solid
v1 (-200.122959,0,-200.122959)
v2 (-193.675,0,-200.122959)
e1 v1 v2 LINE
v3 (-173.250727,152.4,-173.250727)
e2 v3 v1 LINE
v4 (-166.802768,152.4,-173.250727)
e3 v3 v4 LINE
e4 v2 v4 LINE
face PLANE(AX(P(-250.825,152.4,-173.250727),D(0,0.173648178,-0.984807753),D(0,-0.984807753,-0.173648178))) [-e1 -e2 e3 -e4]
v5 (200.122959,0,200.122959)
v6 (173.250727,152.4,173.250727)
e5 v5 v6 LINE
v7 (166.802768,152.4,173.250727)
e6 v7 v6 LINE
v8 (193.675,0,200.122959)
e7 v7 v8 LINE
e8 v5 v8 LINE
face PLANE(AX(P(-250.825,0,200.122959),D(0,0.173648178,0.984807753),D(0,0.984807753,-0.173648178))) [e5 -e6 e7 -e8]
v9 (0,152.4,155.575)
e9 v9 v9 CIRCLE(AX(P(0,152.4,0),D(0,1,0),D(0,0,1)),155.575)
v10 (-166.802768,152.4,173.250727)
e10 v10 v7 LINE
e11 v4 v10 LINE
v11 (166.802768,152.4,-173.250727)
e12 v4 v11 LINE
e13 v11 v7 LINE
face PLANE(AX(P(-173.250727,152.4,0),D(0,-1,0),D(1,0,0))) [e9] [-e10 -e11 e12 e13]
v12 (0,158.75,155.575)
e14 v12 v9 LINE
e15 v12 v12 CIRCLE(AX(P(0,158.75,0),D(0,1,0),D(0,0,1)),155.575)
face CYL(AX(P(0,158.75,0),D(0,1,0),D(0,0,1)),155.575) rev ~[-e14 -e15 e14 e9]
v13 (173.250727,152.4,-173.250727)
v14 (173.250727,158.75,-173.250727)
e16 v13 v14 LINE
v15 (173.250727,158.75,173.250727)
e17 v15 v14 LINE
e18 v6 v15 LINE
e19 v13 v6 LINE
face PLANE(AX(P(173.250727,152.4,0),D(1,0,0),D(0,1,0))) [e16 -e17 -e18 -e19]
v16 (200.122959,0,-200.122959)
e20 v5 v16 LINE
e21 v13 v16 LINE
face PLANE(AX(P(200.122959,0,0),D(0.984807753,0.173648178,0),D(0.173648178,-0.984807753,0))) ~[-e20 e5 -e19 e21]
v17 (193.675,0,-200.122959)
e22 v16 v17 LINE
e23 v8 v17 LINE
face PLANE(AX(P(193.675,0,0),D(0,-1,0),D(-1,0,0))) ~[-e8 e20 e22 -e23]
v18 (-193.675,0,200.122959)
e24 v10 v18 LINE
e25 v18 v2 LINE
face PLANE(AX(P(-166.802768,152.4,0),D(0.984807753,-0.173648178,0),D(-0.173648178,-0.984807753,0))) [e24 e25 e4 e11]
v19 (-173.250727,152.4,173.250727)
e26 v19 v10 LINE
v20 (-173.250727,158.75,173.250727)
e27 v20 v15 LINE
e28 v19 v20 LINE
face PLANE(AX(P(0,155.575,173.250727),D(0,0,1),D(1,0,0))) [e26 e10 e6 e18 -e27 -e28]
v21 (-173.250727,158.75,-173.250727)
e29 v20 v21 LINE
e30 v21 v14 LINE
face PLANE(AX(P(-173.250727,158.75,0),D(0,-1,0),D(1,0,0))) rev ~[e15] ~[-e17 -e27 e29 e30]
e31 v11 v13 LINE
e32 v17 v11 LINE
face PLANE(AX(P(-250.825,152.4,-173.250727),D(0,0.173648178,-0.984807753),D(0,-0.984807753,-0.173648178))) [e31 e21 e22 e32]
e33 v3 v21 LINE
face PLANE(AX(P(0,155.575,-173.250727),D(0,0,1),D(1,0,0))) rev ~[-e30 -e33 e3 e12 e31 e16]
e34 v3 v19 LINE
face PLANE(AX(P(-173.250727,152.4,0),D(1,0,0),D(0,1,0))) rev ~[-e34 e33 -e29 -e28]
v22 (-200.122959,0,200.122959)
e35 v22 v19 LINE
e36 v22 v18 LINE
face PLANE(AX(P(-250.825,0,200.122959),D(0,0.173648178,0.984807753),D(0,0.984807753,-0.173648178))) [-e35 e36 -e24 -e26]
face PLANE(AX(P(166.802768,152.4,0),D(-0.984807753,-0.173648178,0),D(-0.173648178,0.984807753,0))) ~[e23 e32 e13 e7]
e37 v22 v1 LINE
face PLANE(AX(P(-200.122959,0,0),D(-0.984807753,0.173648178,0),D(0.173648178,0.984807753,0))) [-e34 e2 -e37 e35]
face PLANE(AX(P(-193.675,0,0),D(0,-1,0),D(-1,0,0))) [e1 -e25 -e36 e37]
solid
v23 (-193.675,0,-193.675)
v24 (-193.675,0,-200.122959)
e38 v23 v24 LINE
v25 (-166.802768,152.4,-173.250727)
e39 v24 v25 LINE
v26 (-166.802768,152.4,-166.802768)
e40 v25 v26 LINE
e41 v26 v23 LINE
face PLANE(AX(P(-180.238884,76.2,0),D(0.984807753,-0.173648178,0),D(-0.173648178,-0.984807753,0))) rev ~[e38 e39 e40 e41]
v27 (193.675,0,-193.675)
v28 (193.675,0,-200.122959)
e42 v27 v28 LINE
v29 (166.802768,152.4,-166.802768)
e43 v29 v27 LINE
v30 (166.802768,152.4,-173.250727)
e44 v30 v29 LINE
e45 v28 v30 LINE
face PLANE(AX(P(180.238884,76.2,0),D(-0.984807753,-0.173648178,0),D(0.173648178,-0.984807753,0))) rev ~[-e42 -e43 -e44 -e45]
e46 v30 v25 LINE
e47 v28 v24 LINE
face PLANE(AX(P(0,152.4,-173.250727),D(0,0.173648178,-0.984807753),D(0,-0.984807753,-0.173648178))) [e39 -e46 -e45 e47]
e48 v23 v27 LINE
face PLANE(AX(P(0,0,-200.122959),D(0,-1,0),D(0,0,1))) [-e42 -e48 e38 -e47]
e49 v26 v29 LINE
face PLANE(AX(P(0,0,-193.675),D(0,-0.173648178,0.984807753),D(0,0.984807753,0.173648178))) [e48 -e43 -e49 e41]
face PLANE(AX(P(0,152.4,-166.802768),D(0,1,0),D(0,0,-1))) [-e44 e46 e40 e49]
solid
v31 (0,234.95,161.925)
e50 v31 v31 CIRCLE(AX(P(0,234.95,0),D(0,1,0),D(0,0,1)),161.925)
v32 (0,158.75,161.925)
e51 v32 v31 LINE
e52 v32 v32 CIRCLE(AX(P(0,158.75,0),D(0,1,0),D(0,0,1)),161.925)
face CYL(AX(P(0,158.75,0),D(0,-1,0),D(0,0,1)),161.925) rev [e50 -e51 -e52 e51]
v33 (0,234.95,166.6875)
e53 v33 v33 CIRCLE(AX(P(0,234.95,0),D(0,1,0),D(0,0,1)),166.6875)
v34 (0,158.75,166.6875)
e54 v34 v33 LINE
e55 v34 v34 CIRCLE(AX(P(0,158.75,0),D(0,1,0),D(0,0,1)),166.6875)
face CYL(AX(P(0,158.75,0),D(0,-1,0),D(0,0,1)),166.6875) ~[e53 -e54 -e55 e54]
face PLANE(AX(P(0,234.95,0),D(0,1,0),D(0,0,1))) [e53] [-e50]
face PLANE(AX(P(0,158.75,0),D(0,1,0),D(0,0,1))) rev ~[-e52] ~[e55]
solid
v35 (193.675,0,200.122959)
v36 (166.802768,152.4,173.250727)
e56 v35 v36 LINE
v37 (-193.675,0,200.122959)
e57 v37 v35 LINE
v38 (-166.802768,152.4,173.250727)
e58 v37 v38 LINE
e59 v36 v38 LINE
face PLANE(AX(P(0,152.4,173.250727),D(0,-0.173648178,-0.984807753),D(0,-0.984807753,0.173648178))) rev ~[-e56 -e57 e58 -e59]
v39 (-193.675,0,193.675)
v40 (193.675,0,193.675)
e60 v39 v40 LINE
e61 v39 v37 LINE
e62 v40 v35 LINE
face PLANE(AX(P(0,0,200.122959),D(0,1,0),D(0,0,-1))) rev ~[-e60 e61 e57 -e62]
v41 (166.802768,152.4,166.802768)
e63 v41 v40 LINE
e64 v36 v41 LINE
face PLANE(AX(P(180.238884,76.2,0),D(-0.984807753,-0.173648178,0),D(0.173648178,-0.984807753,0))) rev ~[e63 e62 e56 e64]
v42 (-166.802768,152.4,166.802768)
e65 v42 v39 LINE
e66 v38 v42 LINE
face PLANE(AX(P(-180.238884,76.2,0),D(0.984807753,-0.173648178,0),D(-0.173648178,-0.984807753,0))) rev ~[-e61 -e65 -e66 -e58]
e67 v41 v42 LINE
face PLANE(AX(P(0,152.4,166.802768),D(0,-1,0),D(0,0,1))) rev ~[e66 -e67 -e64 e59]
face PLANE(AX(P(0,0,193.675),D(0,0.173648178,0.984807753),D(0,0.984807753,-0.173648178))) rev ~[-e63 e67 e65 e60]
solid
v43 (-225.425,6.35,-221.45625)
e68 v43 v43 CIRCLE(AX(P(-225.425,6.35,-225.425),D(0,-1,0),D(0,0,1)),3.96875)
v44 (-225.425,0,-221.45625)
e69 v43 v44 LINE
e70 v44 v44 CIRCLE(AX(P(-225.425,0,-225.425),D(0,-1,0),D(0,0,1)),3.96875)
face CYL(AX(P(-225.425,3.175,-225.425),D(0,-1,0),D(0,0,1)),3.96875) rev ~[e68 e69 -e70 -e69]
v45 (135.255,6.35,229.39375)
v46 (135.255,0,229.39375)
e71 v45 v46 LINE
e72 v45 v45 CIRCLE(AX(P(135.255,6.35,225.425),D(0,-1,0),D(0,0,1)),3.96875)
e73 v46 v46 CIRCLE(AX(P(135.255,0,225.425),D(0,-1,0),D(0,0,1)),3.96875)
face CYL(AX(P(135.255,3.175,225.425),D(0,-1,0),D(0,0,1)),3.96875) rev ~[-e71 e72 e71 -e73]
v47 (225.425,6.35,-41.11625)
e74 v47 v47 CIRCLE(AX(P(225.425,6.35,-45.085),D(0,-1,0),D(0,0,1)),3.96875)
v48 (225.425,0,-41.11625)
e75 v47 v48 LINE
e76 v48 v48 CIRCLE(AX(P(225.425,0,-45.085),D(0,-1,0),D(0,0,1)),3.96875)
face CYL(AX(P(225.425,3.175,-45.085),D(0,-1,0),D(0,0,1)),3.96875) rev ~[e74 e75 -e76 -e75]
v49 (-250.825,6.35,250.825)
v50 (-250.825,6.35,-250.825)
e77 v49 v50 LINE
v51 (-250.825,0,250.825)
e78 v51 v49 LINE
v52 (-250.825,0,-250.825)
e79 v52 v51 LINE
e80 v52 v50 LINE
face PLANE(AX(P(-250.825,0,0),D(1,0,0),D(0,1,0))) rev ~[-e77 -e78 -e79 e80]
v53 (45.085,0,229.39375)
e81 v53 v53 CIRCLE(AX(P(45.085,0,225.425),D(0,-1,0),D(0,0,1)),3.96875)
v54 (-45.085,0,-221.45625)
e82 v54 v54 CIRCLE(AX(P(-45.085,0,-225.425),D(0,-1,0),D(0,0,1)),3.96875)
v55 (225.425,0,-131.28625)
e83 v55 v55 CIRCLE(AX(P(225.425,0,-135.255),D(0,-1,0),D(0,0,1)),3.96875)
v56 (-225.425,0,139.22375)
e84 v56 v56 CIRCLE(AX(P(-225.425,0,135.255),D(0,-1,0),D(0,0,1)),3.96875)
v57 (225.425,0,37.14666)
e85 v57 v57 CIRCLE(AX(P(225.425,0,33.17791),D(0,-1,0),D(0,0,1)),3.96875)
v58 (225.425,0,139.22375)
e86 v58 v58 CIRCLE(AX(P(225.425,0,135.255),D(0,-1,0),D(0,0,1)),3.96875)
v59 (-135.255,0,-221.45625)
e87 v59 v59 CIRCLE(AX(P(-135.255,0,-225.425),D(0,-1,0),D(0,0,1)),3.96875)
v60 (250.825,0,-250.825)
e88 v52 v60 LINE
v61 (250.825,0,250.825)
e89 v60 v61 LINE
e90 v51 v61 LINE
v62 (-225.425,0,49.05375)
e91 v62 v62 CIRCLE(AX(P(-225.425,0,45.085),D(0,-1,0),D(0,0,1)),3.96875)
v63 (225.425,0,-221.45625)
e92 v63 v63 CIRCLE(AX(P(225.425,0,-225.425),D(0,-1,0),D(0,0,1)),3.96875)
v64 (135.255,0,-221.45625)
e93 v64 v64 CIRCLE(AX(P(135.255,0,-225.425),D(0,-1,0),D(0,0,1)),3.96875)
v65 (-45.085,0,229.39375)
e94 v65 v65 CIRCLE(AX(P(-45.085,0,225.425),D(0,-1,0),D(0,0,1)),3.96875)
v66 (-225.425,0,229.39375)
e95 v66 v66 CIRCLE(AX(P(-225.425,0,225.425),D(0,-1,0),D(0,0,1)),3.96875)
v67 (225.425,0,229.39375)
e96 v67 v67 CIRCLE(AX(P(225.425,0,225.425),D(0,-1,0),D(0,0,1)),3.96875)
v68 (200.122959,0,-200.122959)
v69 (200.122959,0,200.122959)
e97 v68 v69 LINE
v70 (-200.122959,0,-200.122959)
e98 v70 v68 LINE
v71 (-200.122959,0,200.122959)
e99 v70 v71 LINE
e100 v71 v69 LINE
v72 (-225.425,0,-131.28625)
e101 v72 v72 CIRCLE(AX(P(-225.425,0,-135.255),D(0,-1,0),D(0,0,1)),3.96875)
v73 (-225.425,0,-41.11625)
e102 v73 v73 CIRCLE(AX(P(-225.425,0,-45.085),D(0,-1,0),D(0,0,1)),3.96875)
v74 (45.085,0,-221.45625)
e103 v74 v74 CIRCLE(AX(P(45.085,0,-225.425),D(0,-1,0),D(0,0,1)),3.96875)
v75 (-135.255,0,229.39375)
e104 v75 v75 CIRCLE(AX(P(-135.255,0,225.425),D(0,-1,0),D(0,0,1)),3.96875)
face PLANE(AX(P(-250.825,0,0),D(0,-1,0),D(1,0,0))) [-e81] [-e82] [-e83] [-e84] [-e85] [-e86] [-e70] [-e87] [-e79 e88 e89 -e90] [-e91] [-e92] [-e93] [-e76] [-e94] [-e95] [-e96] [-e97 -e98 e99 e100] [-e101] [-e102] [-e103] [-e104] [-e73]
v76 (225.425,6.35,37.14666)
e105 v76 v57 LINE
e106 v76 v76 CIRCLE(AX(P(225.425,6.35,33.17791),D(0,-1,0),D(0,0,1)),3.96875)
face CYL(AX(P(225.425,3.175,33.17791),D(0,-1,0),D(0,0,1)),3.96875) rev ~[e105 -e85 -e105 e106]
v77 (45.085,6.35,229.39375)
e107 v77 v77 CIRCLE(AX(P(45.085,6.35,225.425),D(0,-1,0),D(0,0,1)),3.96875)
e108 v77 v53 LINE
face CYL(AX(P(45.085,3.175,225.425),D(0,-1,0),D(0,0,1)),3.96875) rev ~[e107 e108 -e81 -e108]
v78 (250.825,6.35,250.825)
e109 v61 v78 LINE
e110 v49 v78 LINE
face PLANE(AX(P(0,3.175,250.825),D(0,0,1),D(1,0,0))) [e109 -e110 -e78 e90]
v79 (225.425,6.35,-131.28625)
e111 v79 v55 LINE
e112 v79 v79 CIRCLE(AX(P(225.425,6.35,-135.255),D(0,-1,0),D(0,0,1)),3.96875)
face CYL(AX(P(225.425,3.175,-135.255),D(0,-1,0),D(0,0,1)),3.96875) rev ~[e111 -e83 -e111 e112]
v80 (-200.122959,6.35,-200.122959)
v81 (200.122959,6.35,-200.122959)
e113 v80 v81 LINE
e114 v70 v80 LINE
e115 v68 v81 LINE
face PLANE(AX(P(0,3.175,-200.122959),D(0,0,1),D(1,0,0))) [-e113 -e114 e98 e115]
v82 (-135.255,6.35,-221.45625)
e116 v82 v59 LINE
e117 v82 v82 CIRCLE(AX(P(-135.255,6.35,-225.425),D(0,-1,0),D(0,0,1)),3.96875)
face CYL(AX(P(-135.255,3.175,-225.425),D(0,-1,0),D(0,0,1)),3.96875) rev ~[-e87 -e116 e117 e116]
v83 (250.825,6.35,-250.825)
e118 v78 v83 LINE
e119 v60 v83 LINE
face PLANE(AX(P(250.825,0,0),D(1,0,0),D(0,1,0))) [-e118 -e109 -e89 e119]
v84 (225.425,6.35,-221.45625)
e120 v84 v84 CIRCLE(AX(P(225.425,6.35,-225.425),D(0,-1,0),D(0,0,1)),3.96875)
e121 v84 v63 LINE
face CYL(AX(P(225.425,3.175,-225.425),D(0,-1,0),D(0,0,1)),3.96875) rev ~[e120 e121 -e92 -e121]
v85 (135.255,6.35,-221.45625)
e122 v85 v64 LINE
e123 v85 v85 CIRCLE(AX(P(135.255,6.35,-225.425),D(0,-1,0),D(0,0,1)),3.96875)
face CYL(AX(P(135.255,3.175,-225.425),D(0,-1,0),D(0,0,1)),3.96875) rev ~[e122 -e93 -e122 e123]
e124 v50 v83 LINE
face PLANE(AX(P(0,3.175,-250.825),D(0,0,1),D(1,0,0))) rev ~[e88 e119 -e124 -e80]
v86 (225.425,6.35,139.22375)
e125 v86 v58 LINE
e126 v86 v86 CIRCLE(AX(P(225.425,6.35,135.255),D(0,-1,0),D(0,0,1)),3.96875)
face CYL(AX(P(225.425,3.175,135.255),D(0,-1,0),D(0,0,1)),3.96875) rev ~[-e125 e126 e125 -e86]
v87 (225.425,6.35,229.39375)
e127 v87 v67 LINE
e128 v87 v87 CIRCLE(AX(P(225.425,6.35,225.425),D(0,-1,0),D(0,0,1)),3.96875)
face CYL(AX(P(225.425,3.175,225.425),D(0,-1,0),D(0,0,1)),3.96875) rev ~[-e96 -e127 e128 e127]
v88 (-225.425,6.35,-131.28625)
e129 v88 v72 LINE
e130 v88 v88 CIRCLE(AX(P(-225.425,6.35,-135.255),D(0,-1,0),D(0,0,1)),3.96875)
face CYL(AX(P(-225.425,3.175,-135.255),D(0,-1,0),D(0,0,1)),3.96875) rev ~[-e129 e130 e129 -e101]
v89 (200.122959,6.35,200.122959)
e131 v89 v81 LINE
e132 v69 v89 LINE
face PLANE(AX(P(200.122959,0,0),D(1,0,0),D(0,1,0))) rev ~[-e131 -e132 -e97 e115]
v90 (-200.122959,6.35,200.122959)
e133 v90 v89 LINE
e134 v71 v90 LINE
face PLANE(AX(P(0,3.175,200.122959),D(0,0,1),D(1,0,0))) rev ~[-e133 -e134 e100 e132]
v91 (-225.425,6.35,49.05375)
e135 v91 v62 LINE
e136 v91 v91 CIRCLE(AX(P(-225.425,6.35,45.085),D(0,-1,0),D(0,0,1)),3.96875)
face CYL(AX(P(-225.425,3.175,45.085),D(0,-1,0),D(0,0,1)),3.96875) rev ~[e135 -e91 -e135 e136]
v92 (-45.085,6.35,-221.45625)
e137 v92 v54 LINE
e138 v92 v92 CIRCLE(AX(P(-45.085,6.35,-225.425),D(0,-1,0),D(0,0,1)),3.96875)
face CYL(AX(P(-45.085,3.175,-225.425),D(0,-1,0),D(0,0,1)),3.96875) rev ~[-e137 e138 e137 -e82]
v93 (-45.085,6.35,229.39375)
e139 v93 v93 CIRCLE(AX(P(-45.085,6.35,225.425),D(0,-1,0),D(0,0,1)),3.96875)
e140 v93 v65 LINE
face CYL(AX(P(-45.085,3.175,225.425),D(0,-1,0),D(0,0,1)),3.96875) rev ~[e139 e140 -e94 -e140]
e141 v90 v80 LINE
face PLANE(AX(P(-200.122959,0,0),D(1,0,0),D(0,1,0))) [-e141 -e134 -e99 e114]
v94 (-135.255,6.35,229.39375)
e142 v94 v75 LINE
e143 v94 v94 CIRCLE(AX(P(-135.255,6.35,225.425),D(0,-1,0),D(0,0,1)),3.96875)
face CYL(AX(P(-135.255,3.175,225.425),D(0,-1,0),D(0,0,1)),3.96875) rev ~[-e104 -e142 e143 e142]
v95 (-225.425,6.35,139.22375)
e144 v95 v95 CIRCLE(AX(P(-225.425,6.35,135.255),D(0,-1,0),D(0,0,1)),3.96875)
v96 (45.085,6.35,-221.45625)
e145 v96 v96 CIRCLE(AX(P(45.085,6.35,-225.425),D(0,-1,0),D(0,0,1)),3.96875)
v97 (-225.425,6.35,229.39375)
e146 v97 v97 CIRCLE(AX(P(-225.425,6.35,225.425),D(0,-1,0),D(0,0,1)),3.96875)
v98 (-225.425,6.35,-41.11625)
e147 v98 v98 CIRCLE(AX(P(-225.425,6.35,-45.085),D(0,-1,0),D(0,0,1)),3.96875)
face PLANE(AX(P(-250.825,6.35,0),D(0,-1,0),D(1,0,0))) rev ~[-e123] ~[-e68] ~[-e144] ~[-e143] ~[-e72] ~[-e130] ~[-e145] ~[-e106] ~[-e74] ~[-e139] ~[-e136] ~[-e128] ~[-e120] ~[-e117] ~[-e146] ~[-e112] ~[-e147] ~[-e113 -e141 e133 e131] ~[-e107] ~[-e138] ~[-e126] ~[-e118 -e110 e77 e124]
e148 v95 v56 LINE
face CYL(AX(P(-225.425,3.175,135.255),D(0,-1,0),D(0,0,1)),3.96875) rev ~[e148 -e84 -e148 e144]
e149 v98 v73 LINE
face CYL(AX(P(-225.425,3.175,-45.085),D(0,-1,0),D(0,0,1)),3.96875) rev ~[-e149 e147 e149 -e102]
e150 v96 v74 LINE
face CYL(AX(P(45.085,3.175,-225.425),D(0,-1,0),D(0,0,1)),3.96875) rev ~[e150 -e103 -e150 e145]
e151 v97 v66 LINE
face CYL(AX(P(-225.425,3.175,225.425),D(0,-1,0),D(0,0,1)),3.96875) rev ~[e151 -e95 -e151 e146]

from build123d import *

# Parameters (mm, degrees)
SKETCH9_W                                = 501.649999896
SKETCH9_H                                = 6.35
BOSS_EXTRUDE6_DEPTH                      = 250.825
SKETCH10_W                               = 400.24591797
SKETCH10_H                               = 6.35
CUT_EXTRUDE3_DEPTH                       = 200.122959037
BOSS_EXTRUDE8_REACH                      = 252.825
BOSS_EXTRUDE8_DIRECTION_2_REACH          = 252.825
SKETCH12_W                               = 346.501454252
SKETCH12_H                               = 6.35
BOSS_EXTRUDE9_DEPTH                      = 173.250727158
BOSS_EXTRUDE10_REACH                     = 252.825
BOSS_EXTRUDE10_DIRECTION_2_REACH         = 252.825
CUT_EXTRUDE4_START                       = -250.825
CUT_EXTRUDE4_DEPTH                       = 501.65
SKETCH15_R                               = 166.6875
SKETCH15_R_2                             = 161.925
BOSS_EXTRUDE11_DEPTH                     = 76.2
SKETCH16_R                               = 155.575
CUT_EXTRUDE5_DEPTH                       = 159.75
SKETCH18_W                               = 3.96875
SKETCH18_H                               = 6.35
F_5_16_0_3125_DIAMETER_HOLE1_AT_2_COUNT  = 2
F_5_16_0_3125_DIAMETER_HOLE1_AT_2_PITCH  = 450.85
F_5_16_0_3125_DIAMETER_HOLE1_AT_3_COUNT  = 2
F_5_16_0_3125_DIAMETER_HOLE1_AT_3_PITCH  = 637.598184523
F_5_16_0_3125_DIAMETER_HOLE1_AT_4_COUNT  = 2
F_5_16_0_3125_DIAMETER_HOLE1_AT_4_PITCH  = 450.849999897
F_5_16_0_3125_DIAMETER_HOLE1_AT_5_COUNT  = 2
F_5_16_0_3125_DIAMETER_HOLE1_AT_5_PITCH  = 90.17
F_5_16_0_3125_DIAMETER_HOLE1_AT_6_COUNT  = 2
F_5_16_0_3125_DIAMETER_HOLE1_AT_6_PITCH  = 180.34
F_5_16_0_3125_DIAMETER_HOLE1_AT_7_COUNT  = 2
F_5_16_0_3125_DIAMETER_HOLE1_AT_7_PITCH  = 270.51
F_5_16_0_3125_DIAMETER_HOLE1_AT_8_COUNT  = 2
F_5_16_0_3125_DIAMETER_HOLE1_AT_8_PITCH  = 360.68
F_5_16_0_3125_DIAMETER_HOLE1_AT_9_COUNT  = 2
F_5_16_0_3125_DIAMETER_HOLE1_AT_9_PITCH  = 459.778589537
F_5_16_0_3125_DIAMETER_HOLE1_AT_10_COUNT = 2
F_5_16_0_3125_DIAMETER_HOLE1_AT_10_PITCH = 485.580310644
F_5_16_0_3125_DIAMETER_HOLE1_AT_11_COUNT = 2
F_5_16_0_3125_DIAMETER_HOLE1_AT_11_PITCH = 525.776932326
F_5_16_0_3125_DIAMETER_HOLE1_AT_12_COUNT = 2
F_5_16_0_3125_DIAMETER_HOLE1_AT_12_PITCH = 577.369712438
F_5_16_0_3125_DIAMETER_HOLE1_AT_13_COUNT = 2
F_5_16_0_3125_DIAMETER_HOLE1_AT_13_PITCH = 577.369712409
F_5_16_0_3125_DIAMETER_HOLE1_AT_14_COUNT = 2
F_5_16_0_3125_DIAMETER_HOLE1_AT_14_PITCH = 519.751082245
F_5_16_0_3125_DIAMETER_HOLE1_AT_15_COUNT = 2
F_5_16_0_3125_DIAMETER_HOLE1_AT_15_PITCH = 485.580310564
F_5_16_0_3125_DIAMETER_HOLE1_AT_16_COUNT = 2
F_5_16_0_3125_DIAMETER_HOLE1_AT_16_PITCH = 459.77858944
F_5_16_0_3125_DIAMETER_HOLE1_AT_17_COUNT = 2
F_5_16_0_3125_DIAMETER_HOLE1_AT_17_PITCH = 360.679999918
F_5_16_0_3125_DIAMETER_HOLE1_AT_18_COUNT = 2
F_5_16_0_3125_DIAMETER_HOLE1_AT_18_PITCH = 270.509999938
F_5_16_0_3125_DIAMETER_HOLE1_AT_19_COUNT = 2
F_5_16_0_3125_DIAMETER_HOLE1_AT_19_PITCH = 180.339999959
F_5_16_0_3125_DIAMETER_HOLE1_AT_20_COUNT = 2
F_5_16_0_3125_DIAMETER_HOLE1_AT_20_PITCH = 90.169999979


with BuildPart() as part:
    # Sketch9 → Boss-Extrude6 (new body, symmetric)
    with BuildSketch(Plane.XY):
        with Locations((0, 3.175)):
            Rectangle(SKETCH9_W, SKETCH9_H)
    extrude(amount=BOSS_EXTRUDE6_DEPTH, both=True)

    # Sketch10 → Cut-Extrude3 (cut, symmetric)
    with BuildSketch(Plane.XY):
        with Locations((0, 3.175)):
            Rectangle(SKETCH10_W, SKETCH10_H)
    extrude(amount=CUT_EXTRUDE3_DEPTH, both=True, mode=Mode.SUBTRACT)


with BuildPart() as body_2:

    # Boss-Extrude8: up to this face of the body (flat: up to its plane)
    boss_extrude8_end = Plane(part.part.faces().sort_by_distance((0, 3.175, -200.122959037))[0])
    # Sketch11 → Boss-Extrude8 (new body, up to the picked face)
    with BuildSketch(Plane.XY, mode=Mode.PRIVATE) as boss_extrude8_sk1:
        Polygon((-166.80276814, 152.4), (-193.675, 0), (-200.122958985, 0), (-173.250727126, 152.4), align=None)
    boss_extrude8_tool1 = split(extrude(boss_extrude8_sk1.sketch, amount=-BOSS_EXTRUDE8_REACH, mode=Mode.PRIVATE), bisect_by=boss_extrude8_end, keep=Keep.BOTH, mode=Mode.PRIVATE)
    add(boss_extrude8_tool1.solids().sort_by(Axis((-183.462864, 76.2, 0), (0, 0, -1)))[0])


    # Boss-Extrude8 direction 2: up to this face of the body (flat: up to its plane)
    boss_extrude8_direction_2_end = Plane(part.part.faces().sort_by_distance((0, 3.175, 200.122959037))[0])
    # Sketch11 → Boss-Extrude8 direction 2 (add, up to the picked face)
    with BuildSketch(Plane.XY, mode=Mode.PRIVATE) as boss_extrude8_direction_2_sk1:
        Polygon((-166.80276814, 152.4), (-193.675, 0), (-200.122958985, 0), (-173.250727126, 152.4), align=None)
    boss_extrude8_direction_2_tool1 = split(extrude(boss_extrude8_direction_2_sk1.sketch, amount=BOSS_EXTRUDE8_DIRECTION_2_REACH, mode=Mode.PRIVATE), bisect_by=boss_extrude8_direction_2_end, keep=Keep.BOTH, mode=Mode.PRIVATE)
    add(boss_extrude8_direction_2_tool1.solids().sort_by(Axis((-183.462864, 76.2, 0), (0, 0, 1)))[0])


with BuildPart() as body_3:
    # Mirror1: mirrored copy
    add(body_2.part.mirror(Plane(origin=(0, 0, 0), x_dir=(0, 0, 1), z_dir=(1, 0, 0))))


with BuildPart() as body_2_1:
    add(body_2.part)

    add(body_3.part)  # Boss-Extrude9 merges body 3
    # Sketch12 → Boss-Extrude9 (add, symmetric)
    with BuildSketch(Plane.XY):
        with Locations((0, 155.575)):
            Rectangle(SKETCH12_W, SKETCH12_H)
    extrude(amount=BOSS_EXTRUDE9_DEPTH, both=True)


with BuildPart() as body_3_2:

    # Boss-Extrude10: up to this face of the body (flat: up to its plane)
    boss_extrude10_end = Plane(body_2_1.part.faces().sort_by_distance((-180.23888407, 76.2, 0))[0])
    # Sketch13 → Boss-Extrude10 (new body, up to the picked face)
    with BuildSketch(Plane(origin=(0, 0, 0), x_dir=(0, 0, -1), z_dir=(1, 0, 0)), mode=Mode.PRIVATE) as boss_extrude10_sk1:
        Polygon((-173.250727158, 152.4), (-200.122959037, 0), (-193.675000051, 0), (-166.802768172, 152.4), align=None)
    boss_extrude10_tool1 = split(extrude(boss_extrude10_sk1.sketch, amount=-BOSS_EXTRUDE10_REACH, mode=Mode.PRIVATE), bisect_by=boss_extrude10_end, keep=Keep.BOTH, mode=Mode.PRIVATE)
    add(boss_extrude10_tool1.solids().sort_by(Axis((0, 76.2, 183.462864), (-1, 0, 0)))[0])
    # Sketch13 → Boss-Extrude10 (new body, up to the picked face)
    with BuildSketch(Plane(origin=(0, 0, 0), x_dir=(0, 0, -1), z_dir=(1, 0, 0)), mode=Mode.PRIVATE) as boss_extrude10_sk2:
        Polygon((166.802768172, 152.4), (173.250727158, 152.4), (200.122959037, 0), (193.675000051, 0), align=None)
    boss_extrude10_tool2 = split(extrude(boss_extrude10_sk2.sketch, amount=-BOSS_EXTRUDE10_REACH, mode=Mode.PRIVATE), bisect_by=boss_extrude10_end, keep=Keep.BOTH, mode=Mode.PRIVATE)
    add(boss_extrude10_tool2.solids().sort_by(Axis((0, 76.2, -183.462864), (-1, 0, 0)))[0])


    # Boss-Extrude10 direction 2: up to this face of the body (flat: up to its plane)
    boss_extrude10_direction_2_end = Plane(body_2_1.part.faces().sort_by_distance((180.23888407, 76.2, 0))[0])
    # Sketch13 → Boss-Extrude10 direction 2 (add, up to the picked face)
    with BuildSketch(Plane(origin=(0, 0, 0), x_dir=(0, 0, -1), z_dir=(1, 0, 0)), mode=Mode.PRIVATE) as boss_extrude10_direction_2_sk1:
        Polygon((-173.250727158, 152.4), (-200.122959037, 0), (-193.675000051, 0), (-166.802768172, 152.4), align=None)
    boss_extrude10_direction_2_tool1 = split(extrude(boss_extrude10_direction_2_sk1.sketch, amount=BOSS_EXTRUDE10_DIRECTION_2_REACH, mode=Mode.PRIVATE), bisect_by=boss_extrude10_direction_2_end, keep=Keep.BOTH, mode=Mode.PRIVATE)
    add(boss_extrude10_direction_2_tool1.solids().sort_by(Axis((0, 76.2, 183.462864), (1, 0, 0)))[0])
    # Sketch13 → Boss-Extrude10 direction 2 (add, up to the picked face)
    with BuildSketch(Plane(origin=(0, 0, 0), x_dir=(0, 0, -1), z_dir=(1, 0, 0)), mode=Mode.PRIVATE) as boss_extrude10_direction_2_sk2:
        Polygon((166.802768172, 152.4), (173.250727158, 152.4), (200.122959037, 0), (193.675000051, 0), align=None)
    boss_extrude10_direction_2_tool2 = split(extrude(boss_extrude10_direction_2_sk2.sketch, amount=BOSS_EXTRUDE10_DIRECTION_2_REACH, mode=Mode.PRIVATE), bisect_by=boss_extrude10_direction_2_end, keep=Keep.BOTH, mode=Mode.PRIVATE)
    add(boss_extrude10_direction_2_tool2.solids().sort_by(Axis((0, 76.2, -183.462864), (1, 0, 0)))[0])


with BuildPart() as body_2_2:
    add(body_2_1.part)

    # Sketch14 → Cut-Extrude4 (cut)
    with BuildSketch(Plane(origin=(0, 0, 0), x_dir=(0, 0, -1), z_dir=(1, 0, 0)).offset(CUT_EXTRUDE4_START)):
        Polygon((-173.250727158, 152.4), (-200.122959037, 152.4), (-200.122959037, 0), align=None)
        Polygon((173.250727158, 152.4), (200.122959037, 0), (200.122959037, 152.4), align=None)
    extrude(amount=CUT_EXTRUDE4_DEPTH, mode=Mode.SUBTRACT)

    # Sketch16 → Cut-Extrude5 (cut, through all)
    with BuildSketch(Plane(origin=(0, 158.75, 0), x_dir=(1, 0, 0), z_dir=(0, 1, 0))):
        with Locations(Location((0, 0, 0), (0, 0, 270))):  # turned: the seam where the file's is
            Circle(SKETCH16_R)
    extrude(amount=-CUT_EXTRUDE5_DEPTH, mode=Mode.SUBTRACT)


with BuildPart() as body_4:
    # Sketch15 → Boss-Extrude11 (new body)
    with BuildSketch(Plane(origin=(0, 158.75, 0), x_dir=(1, 0, 0), z_dir=(0, 1, 0))):
        with Locations(Location((0, 0, 0), (0, 0, 270))):  # turned: the seam where the file's is
            Circle(SKETCH15_R)
        with Locations(Location((0, 0, 0), (0, 0, 270))):  # turned: the seam where the file's is
            Circle(SKETCH15_R_2, mode=Mode.SUBTRACT)
    extrude(amount=BOSS_EXTRUDE11_DEPTH)


with BuildPart() as part_1:
    add(part.part)

    # Sketch18 → 5/16 (0.3125) Diameter Hole1 (revolve, cut)
    with BuildSketch(Plane(origin=(-225.424999948, 6.35, -225.425), x_dir=(0, 0, 1), z_dir=(1, 0, 0))):
        with Locations((1.984375, 3.175)):
            Rectangle(SKETCH18_W, SKETCH18_H)
    f_5_16_0_3125_diameter_hole1 = revolve(axis=Axis((-225.424999948, 12.7, -225.425), (0, -1, 0)), mode=Mode.SUBTRACT)

    # 5/16 (0.3125) Diameter Hole1 at 2: 5/16 (0.3125) Diameter Hole1 ×2
    with Locations(*[(0, 0, i * F_5_16_0_3125_DIAMETER_HOLE1_AT_2_PITCH) for i in range(1, F_5_16_0_3125_DIAMETER_HOLE1_AT_2_COUNT)]):
        add(f_5_16_0_3125_diameter_hole1, mode=Mode.SUBTRACT)

    # 5/16 (0.3125) Diameter Hole1 at 3: 5/16 (0.3125) Diameter Hole1 ×2
    with Locations(*[Vector(0.707106781, 0, 0.707106781) * (i * F_5_16_0_3125_DIAMETER_HOLE1_AT_3_PITCH) for i in range(1, F_5_16_0_3125_DIAMETER_HOLE1_AT_3_COUNT)]):
        add(f_5_16_0_3125_diameter_hole1, mode=Mode.SUBTRACT)

    # 5/16 (0.3125) Diameter Hole1 at 4: 5/16 (0.3125) Diameter Hole1 ×2
    with Locations(*[(i * F_5_16_0_3125_DIAMETER_HOLE1_AT_4_PITCH, 0, 0) for i in range(1, F_5_16_0_3125_DIAMETER_HOLE1_AT_4_COUNT)]):
        add(f_5_16_0_3125_diameter_hole1, mode=Mode.SUBTRACT)

    # 5/16 (0.3125) Diameter Hole1 at 5: 5/16 (0.3125) Diameter Hole1 ×2
    with Locations(*[(0, 0, i * F_5_16_0_3125_DIAMETER_HOLE1_AT_5_PITCH) for i in range(1, F_5_16_0_3125_DIAMETER_HOLE1_AT_5_COUNT)]):
        add(f_5_16_0_3125_diameter_hole1, mode=Mode.SUBTRACT)

    # 5/16 (0.3125) Diameter Hole1 at 6: 5/16 (0.3125) Diameter Hole1 ×2
    with Locations(*[(0, 0, i * F_5_16_0_3125_DIAMETER_HOLE1_AT_6_PITCH) for i in range(1, F_5_16_0_3125_DIAMETER_HOLE1_AT_6_COUNT)]):
        add(f_5_16_0_3125_diameter_hole1, mode=Mode.SUBTRACT)

    # 5/16 (0.3125) Diameter Hole1 at 7: 5/16 (0.3125) Diameter Hole1 ×2
    with Locations(*[(0, 0, i * F_5_16_0_3125_DIAMETER_HOLE1_AT_7_PITCH) for i in range(1, F_5_16_0_3125_DIAMETER_HOLE1_AT_7_COUNT)]):
        add(f_5_16_0_3125_diameter_hole1, mode=Mode.SUBTRACT)

    # 5/16 (0.3125) Diameter Hole1 at 8: 5/16 (0.3125) Diameter Hole1 ×2
    with Locations(*[(0, 0, i * F_5_16_0_3125_DIAMETER_HOLE1_AT_8_PITCH) for i in range(1, F_5_16_0_3125_DIAMETER_HOLE1_AT_8_COUNT)]):
        add(f_5_16_0_3125_diameter_hole1, mode=Mode.SUBTRACT)

    # 5/16 (0.3125) Diameter Hole1 at 9: 5/16 (0.3125) Diameter Hole1 ×2
    with Locations(*[Vector(0.196116135, 0, 0.980580676) * (i * F_5_16_0_3125_DIAMETER_HOLE1_AT_9_PITCH) for i in range(1, F_5_16_0_3125_DIAMETER_HOLE1_AT_9_COUNT)]):
        add(f_5_16_0_3125_diameter_hole1, mode=Mode.SUBTRACT)

    # 5/16 (0.3125) Diameter Hole1 at 10: 5/16 (0.3125) Diameter Hole1 ×2
    with Locations(*[Vector(0.371390676, 0, 0.928476691) * (i * F_5_16_0_3125_DIAMETER_HOLE1_AT_10_PITCH) for i in range(1, F_5_16_0_3125_DIAMETER_HOLE1_AT_10_COUNT)]):
        add(f_5_16_0_3125_diameter_hole1, mode=Mode.SUBTRACT)

    # 5/16 (0.3125) Diameter Hole1 at 11: 5/16 (0.3125) Diameter Hole1 ×2
    with Locations(*[Vector(0.514495755, 0, 0.857492926) * (i * F_5_16_0_3125_DIAMETER_HOLE1_AT_11_PITCH) for i in range(1, F_5_16_0_3125_DIAMETER_HOLE1_AT_11_COUNT)]):
        add(f_5_16_0_3125_diameter_hole1, mode=Mode.SUBTRACT)

    # 5/16 (0.3125) Diameter Hole1 at 12: 5/16 (0.3125) Diameter Hole1 ×2
    with Locations(*[Vector(0.624695047, 0, 0.78086881) * (i * F_5_16_0_3125_DIAMETER_HOLE1_AT_12_PITCH) for i in range(1, F_5_16_0_3125_DIAMETER_HOLE1_AT_12_COUNT)]):
        add(f_5_16_0_3125_diameter_hole1, mode=Mode.SUBTRACT)

    # 5/16 (0.3125) Diameter Hole1 at 13: 5/16 (0.3125) Diameter Hole1 ×2
    with Locations(*[Vector(0.780868809, 0, 0.624695048) * (i * F_5_16_0_3125_DIAMETER_HOLE1_AT_13_PITCH) for i in range(1, F_5_16_0_3125_DIAMETER_HOLE1_AT_13_COUNT)]):
        add(f_5_16_0_3125_diameter_hole1, mode=Mode.SUBTRACT)

    # 5/16 (0.3125) Diameter Hole1 at 14: 5/16 (0.3125) Diameter Hole1 ×2
    with Locations(*[Vector(0.867434461, 0, 0.49755146) * (i * F_5_16_0_3125_DIAMETER_HOLE1_AT_14_PITCH) for i in range(1, F_5_16_0_3125_DIAMETER_HOLE1_AT_14_COUNT)]):
        add(f_5_16_0_3125_diameter_hole1, mode=Mode.SUBTRACT)

    # 5/16 (0.3125) Diameter Hole1 at 15: 5/16 (0.3125) Diameter Hole1 ×2
    with Locations(*[Vector(0.928476691, 0, 0.371390676) * (i * F_5_16_0_3125_DIAMETER_HOLE1_AT_15_PITCH) for i in range(1, F_5_16_0_3125_DIAMETER_HOLE1_AT_15_COUNT)]):
        add(f_5_16_0_3125_diameter_hole1, mode=Mode.SUBTRACT)

    # 5/16 (0.3125) Diameter Hole1 at 16: 5/16 (0.3125) Diameter Hole1 ×2
    with Locations(*[Vector(0.980580676, 0, 0.196116135) * (i * F_5_16_0_3125_DIAMETER_HOLE1_AT_16_PITCH) for i in range(1, F_5_16_0_3125_DIAMETER_HOLE1_AT_16_COUNT)]):
        add(f_5_16_0_3125_diameter_hole1, mode=Mode.SUBTRACT)

    # 5/16 (0.3125) Diameter Hole1 at 17: 5/16 (0.3125) Diameter Hole1 ×2
    with Locations(*[(i * F_5_16_0_3125_DIAMETER_HOLE1_AT_17_PITCH, 0, 0) for i in range(1, F_5_16_0_3125_DIAMETER_HOLE1_AT_17_COUNT)]):
        add(f_5_16_0_3125_diameter_hole1, mode=Mode.SUBTRACT)

    # 5/16 (0.3125) Diameter Hole1 at 18: 5/16 (0.3125) Diameter Hole1 ×2
    with Locations(*[(i * F_5_16_0_3125_DIAMETER_HOLE1_AT_18_PITCH, 0, 0) for i in range(1, F_5_16_0_3125_DIAMETER_HOLE1_AT_18_COUNT)]):
        add(f_5_16_0_3125_diameter_hole1, mode=Mode.SUBTRACT)

    # 5/16 (0.3125) Diameter Hole1 at 19: 5/16 (0.3125) Diameter Hole1 ×2
    with Locations(*[(i * F_5_16_0_3125_DIAMETER_HOLE1_AT_19_PITCH, 0, 0) for i in range(1, F_5_16_0_3125_DIAMETER_HOLE1_AT_19_COUNT)]):
        add(f_5_16_0_3125_diameter_hole1, mode=Mode.SUBTRACT)

    # 5/16 (0.3125) Diameter Hole1 at 20: 5/16 (0.3125) Diameter Hole1 ×2
    with Locations(*[(i * F_5_16_0_3125_DIAMETER_HOLE1_AT_20_PITCH, 0, 0) for i in range(1, F_5_16_0_3125_DIAMETER_HOLE1_AT_20_COUNT)]):
        add(f_5_16_0_3125_diameter_hole1, mode=Mode.SUBTRACT)


solid = Compound([body_3_2.part, body_2_2.part, body_4.part, part_1.part])
